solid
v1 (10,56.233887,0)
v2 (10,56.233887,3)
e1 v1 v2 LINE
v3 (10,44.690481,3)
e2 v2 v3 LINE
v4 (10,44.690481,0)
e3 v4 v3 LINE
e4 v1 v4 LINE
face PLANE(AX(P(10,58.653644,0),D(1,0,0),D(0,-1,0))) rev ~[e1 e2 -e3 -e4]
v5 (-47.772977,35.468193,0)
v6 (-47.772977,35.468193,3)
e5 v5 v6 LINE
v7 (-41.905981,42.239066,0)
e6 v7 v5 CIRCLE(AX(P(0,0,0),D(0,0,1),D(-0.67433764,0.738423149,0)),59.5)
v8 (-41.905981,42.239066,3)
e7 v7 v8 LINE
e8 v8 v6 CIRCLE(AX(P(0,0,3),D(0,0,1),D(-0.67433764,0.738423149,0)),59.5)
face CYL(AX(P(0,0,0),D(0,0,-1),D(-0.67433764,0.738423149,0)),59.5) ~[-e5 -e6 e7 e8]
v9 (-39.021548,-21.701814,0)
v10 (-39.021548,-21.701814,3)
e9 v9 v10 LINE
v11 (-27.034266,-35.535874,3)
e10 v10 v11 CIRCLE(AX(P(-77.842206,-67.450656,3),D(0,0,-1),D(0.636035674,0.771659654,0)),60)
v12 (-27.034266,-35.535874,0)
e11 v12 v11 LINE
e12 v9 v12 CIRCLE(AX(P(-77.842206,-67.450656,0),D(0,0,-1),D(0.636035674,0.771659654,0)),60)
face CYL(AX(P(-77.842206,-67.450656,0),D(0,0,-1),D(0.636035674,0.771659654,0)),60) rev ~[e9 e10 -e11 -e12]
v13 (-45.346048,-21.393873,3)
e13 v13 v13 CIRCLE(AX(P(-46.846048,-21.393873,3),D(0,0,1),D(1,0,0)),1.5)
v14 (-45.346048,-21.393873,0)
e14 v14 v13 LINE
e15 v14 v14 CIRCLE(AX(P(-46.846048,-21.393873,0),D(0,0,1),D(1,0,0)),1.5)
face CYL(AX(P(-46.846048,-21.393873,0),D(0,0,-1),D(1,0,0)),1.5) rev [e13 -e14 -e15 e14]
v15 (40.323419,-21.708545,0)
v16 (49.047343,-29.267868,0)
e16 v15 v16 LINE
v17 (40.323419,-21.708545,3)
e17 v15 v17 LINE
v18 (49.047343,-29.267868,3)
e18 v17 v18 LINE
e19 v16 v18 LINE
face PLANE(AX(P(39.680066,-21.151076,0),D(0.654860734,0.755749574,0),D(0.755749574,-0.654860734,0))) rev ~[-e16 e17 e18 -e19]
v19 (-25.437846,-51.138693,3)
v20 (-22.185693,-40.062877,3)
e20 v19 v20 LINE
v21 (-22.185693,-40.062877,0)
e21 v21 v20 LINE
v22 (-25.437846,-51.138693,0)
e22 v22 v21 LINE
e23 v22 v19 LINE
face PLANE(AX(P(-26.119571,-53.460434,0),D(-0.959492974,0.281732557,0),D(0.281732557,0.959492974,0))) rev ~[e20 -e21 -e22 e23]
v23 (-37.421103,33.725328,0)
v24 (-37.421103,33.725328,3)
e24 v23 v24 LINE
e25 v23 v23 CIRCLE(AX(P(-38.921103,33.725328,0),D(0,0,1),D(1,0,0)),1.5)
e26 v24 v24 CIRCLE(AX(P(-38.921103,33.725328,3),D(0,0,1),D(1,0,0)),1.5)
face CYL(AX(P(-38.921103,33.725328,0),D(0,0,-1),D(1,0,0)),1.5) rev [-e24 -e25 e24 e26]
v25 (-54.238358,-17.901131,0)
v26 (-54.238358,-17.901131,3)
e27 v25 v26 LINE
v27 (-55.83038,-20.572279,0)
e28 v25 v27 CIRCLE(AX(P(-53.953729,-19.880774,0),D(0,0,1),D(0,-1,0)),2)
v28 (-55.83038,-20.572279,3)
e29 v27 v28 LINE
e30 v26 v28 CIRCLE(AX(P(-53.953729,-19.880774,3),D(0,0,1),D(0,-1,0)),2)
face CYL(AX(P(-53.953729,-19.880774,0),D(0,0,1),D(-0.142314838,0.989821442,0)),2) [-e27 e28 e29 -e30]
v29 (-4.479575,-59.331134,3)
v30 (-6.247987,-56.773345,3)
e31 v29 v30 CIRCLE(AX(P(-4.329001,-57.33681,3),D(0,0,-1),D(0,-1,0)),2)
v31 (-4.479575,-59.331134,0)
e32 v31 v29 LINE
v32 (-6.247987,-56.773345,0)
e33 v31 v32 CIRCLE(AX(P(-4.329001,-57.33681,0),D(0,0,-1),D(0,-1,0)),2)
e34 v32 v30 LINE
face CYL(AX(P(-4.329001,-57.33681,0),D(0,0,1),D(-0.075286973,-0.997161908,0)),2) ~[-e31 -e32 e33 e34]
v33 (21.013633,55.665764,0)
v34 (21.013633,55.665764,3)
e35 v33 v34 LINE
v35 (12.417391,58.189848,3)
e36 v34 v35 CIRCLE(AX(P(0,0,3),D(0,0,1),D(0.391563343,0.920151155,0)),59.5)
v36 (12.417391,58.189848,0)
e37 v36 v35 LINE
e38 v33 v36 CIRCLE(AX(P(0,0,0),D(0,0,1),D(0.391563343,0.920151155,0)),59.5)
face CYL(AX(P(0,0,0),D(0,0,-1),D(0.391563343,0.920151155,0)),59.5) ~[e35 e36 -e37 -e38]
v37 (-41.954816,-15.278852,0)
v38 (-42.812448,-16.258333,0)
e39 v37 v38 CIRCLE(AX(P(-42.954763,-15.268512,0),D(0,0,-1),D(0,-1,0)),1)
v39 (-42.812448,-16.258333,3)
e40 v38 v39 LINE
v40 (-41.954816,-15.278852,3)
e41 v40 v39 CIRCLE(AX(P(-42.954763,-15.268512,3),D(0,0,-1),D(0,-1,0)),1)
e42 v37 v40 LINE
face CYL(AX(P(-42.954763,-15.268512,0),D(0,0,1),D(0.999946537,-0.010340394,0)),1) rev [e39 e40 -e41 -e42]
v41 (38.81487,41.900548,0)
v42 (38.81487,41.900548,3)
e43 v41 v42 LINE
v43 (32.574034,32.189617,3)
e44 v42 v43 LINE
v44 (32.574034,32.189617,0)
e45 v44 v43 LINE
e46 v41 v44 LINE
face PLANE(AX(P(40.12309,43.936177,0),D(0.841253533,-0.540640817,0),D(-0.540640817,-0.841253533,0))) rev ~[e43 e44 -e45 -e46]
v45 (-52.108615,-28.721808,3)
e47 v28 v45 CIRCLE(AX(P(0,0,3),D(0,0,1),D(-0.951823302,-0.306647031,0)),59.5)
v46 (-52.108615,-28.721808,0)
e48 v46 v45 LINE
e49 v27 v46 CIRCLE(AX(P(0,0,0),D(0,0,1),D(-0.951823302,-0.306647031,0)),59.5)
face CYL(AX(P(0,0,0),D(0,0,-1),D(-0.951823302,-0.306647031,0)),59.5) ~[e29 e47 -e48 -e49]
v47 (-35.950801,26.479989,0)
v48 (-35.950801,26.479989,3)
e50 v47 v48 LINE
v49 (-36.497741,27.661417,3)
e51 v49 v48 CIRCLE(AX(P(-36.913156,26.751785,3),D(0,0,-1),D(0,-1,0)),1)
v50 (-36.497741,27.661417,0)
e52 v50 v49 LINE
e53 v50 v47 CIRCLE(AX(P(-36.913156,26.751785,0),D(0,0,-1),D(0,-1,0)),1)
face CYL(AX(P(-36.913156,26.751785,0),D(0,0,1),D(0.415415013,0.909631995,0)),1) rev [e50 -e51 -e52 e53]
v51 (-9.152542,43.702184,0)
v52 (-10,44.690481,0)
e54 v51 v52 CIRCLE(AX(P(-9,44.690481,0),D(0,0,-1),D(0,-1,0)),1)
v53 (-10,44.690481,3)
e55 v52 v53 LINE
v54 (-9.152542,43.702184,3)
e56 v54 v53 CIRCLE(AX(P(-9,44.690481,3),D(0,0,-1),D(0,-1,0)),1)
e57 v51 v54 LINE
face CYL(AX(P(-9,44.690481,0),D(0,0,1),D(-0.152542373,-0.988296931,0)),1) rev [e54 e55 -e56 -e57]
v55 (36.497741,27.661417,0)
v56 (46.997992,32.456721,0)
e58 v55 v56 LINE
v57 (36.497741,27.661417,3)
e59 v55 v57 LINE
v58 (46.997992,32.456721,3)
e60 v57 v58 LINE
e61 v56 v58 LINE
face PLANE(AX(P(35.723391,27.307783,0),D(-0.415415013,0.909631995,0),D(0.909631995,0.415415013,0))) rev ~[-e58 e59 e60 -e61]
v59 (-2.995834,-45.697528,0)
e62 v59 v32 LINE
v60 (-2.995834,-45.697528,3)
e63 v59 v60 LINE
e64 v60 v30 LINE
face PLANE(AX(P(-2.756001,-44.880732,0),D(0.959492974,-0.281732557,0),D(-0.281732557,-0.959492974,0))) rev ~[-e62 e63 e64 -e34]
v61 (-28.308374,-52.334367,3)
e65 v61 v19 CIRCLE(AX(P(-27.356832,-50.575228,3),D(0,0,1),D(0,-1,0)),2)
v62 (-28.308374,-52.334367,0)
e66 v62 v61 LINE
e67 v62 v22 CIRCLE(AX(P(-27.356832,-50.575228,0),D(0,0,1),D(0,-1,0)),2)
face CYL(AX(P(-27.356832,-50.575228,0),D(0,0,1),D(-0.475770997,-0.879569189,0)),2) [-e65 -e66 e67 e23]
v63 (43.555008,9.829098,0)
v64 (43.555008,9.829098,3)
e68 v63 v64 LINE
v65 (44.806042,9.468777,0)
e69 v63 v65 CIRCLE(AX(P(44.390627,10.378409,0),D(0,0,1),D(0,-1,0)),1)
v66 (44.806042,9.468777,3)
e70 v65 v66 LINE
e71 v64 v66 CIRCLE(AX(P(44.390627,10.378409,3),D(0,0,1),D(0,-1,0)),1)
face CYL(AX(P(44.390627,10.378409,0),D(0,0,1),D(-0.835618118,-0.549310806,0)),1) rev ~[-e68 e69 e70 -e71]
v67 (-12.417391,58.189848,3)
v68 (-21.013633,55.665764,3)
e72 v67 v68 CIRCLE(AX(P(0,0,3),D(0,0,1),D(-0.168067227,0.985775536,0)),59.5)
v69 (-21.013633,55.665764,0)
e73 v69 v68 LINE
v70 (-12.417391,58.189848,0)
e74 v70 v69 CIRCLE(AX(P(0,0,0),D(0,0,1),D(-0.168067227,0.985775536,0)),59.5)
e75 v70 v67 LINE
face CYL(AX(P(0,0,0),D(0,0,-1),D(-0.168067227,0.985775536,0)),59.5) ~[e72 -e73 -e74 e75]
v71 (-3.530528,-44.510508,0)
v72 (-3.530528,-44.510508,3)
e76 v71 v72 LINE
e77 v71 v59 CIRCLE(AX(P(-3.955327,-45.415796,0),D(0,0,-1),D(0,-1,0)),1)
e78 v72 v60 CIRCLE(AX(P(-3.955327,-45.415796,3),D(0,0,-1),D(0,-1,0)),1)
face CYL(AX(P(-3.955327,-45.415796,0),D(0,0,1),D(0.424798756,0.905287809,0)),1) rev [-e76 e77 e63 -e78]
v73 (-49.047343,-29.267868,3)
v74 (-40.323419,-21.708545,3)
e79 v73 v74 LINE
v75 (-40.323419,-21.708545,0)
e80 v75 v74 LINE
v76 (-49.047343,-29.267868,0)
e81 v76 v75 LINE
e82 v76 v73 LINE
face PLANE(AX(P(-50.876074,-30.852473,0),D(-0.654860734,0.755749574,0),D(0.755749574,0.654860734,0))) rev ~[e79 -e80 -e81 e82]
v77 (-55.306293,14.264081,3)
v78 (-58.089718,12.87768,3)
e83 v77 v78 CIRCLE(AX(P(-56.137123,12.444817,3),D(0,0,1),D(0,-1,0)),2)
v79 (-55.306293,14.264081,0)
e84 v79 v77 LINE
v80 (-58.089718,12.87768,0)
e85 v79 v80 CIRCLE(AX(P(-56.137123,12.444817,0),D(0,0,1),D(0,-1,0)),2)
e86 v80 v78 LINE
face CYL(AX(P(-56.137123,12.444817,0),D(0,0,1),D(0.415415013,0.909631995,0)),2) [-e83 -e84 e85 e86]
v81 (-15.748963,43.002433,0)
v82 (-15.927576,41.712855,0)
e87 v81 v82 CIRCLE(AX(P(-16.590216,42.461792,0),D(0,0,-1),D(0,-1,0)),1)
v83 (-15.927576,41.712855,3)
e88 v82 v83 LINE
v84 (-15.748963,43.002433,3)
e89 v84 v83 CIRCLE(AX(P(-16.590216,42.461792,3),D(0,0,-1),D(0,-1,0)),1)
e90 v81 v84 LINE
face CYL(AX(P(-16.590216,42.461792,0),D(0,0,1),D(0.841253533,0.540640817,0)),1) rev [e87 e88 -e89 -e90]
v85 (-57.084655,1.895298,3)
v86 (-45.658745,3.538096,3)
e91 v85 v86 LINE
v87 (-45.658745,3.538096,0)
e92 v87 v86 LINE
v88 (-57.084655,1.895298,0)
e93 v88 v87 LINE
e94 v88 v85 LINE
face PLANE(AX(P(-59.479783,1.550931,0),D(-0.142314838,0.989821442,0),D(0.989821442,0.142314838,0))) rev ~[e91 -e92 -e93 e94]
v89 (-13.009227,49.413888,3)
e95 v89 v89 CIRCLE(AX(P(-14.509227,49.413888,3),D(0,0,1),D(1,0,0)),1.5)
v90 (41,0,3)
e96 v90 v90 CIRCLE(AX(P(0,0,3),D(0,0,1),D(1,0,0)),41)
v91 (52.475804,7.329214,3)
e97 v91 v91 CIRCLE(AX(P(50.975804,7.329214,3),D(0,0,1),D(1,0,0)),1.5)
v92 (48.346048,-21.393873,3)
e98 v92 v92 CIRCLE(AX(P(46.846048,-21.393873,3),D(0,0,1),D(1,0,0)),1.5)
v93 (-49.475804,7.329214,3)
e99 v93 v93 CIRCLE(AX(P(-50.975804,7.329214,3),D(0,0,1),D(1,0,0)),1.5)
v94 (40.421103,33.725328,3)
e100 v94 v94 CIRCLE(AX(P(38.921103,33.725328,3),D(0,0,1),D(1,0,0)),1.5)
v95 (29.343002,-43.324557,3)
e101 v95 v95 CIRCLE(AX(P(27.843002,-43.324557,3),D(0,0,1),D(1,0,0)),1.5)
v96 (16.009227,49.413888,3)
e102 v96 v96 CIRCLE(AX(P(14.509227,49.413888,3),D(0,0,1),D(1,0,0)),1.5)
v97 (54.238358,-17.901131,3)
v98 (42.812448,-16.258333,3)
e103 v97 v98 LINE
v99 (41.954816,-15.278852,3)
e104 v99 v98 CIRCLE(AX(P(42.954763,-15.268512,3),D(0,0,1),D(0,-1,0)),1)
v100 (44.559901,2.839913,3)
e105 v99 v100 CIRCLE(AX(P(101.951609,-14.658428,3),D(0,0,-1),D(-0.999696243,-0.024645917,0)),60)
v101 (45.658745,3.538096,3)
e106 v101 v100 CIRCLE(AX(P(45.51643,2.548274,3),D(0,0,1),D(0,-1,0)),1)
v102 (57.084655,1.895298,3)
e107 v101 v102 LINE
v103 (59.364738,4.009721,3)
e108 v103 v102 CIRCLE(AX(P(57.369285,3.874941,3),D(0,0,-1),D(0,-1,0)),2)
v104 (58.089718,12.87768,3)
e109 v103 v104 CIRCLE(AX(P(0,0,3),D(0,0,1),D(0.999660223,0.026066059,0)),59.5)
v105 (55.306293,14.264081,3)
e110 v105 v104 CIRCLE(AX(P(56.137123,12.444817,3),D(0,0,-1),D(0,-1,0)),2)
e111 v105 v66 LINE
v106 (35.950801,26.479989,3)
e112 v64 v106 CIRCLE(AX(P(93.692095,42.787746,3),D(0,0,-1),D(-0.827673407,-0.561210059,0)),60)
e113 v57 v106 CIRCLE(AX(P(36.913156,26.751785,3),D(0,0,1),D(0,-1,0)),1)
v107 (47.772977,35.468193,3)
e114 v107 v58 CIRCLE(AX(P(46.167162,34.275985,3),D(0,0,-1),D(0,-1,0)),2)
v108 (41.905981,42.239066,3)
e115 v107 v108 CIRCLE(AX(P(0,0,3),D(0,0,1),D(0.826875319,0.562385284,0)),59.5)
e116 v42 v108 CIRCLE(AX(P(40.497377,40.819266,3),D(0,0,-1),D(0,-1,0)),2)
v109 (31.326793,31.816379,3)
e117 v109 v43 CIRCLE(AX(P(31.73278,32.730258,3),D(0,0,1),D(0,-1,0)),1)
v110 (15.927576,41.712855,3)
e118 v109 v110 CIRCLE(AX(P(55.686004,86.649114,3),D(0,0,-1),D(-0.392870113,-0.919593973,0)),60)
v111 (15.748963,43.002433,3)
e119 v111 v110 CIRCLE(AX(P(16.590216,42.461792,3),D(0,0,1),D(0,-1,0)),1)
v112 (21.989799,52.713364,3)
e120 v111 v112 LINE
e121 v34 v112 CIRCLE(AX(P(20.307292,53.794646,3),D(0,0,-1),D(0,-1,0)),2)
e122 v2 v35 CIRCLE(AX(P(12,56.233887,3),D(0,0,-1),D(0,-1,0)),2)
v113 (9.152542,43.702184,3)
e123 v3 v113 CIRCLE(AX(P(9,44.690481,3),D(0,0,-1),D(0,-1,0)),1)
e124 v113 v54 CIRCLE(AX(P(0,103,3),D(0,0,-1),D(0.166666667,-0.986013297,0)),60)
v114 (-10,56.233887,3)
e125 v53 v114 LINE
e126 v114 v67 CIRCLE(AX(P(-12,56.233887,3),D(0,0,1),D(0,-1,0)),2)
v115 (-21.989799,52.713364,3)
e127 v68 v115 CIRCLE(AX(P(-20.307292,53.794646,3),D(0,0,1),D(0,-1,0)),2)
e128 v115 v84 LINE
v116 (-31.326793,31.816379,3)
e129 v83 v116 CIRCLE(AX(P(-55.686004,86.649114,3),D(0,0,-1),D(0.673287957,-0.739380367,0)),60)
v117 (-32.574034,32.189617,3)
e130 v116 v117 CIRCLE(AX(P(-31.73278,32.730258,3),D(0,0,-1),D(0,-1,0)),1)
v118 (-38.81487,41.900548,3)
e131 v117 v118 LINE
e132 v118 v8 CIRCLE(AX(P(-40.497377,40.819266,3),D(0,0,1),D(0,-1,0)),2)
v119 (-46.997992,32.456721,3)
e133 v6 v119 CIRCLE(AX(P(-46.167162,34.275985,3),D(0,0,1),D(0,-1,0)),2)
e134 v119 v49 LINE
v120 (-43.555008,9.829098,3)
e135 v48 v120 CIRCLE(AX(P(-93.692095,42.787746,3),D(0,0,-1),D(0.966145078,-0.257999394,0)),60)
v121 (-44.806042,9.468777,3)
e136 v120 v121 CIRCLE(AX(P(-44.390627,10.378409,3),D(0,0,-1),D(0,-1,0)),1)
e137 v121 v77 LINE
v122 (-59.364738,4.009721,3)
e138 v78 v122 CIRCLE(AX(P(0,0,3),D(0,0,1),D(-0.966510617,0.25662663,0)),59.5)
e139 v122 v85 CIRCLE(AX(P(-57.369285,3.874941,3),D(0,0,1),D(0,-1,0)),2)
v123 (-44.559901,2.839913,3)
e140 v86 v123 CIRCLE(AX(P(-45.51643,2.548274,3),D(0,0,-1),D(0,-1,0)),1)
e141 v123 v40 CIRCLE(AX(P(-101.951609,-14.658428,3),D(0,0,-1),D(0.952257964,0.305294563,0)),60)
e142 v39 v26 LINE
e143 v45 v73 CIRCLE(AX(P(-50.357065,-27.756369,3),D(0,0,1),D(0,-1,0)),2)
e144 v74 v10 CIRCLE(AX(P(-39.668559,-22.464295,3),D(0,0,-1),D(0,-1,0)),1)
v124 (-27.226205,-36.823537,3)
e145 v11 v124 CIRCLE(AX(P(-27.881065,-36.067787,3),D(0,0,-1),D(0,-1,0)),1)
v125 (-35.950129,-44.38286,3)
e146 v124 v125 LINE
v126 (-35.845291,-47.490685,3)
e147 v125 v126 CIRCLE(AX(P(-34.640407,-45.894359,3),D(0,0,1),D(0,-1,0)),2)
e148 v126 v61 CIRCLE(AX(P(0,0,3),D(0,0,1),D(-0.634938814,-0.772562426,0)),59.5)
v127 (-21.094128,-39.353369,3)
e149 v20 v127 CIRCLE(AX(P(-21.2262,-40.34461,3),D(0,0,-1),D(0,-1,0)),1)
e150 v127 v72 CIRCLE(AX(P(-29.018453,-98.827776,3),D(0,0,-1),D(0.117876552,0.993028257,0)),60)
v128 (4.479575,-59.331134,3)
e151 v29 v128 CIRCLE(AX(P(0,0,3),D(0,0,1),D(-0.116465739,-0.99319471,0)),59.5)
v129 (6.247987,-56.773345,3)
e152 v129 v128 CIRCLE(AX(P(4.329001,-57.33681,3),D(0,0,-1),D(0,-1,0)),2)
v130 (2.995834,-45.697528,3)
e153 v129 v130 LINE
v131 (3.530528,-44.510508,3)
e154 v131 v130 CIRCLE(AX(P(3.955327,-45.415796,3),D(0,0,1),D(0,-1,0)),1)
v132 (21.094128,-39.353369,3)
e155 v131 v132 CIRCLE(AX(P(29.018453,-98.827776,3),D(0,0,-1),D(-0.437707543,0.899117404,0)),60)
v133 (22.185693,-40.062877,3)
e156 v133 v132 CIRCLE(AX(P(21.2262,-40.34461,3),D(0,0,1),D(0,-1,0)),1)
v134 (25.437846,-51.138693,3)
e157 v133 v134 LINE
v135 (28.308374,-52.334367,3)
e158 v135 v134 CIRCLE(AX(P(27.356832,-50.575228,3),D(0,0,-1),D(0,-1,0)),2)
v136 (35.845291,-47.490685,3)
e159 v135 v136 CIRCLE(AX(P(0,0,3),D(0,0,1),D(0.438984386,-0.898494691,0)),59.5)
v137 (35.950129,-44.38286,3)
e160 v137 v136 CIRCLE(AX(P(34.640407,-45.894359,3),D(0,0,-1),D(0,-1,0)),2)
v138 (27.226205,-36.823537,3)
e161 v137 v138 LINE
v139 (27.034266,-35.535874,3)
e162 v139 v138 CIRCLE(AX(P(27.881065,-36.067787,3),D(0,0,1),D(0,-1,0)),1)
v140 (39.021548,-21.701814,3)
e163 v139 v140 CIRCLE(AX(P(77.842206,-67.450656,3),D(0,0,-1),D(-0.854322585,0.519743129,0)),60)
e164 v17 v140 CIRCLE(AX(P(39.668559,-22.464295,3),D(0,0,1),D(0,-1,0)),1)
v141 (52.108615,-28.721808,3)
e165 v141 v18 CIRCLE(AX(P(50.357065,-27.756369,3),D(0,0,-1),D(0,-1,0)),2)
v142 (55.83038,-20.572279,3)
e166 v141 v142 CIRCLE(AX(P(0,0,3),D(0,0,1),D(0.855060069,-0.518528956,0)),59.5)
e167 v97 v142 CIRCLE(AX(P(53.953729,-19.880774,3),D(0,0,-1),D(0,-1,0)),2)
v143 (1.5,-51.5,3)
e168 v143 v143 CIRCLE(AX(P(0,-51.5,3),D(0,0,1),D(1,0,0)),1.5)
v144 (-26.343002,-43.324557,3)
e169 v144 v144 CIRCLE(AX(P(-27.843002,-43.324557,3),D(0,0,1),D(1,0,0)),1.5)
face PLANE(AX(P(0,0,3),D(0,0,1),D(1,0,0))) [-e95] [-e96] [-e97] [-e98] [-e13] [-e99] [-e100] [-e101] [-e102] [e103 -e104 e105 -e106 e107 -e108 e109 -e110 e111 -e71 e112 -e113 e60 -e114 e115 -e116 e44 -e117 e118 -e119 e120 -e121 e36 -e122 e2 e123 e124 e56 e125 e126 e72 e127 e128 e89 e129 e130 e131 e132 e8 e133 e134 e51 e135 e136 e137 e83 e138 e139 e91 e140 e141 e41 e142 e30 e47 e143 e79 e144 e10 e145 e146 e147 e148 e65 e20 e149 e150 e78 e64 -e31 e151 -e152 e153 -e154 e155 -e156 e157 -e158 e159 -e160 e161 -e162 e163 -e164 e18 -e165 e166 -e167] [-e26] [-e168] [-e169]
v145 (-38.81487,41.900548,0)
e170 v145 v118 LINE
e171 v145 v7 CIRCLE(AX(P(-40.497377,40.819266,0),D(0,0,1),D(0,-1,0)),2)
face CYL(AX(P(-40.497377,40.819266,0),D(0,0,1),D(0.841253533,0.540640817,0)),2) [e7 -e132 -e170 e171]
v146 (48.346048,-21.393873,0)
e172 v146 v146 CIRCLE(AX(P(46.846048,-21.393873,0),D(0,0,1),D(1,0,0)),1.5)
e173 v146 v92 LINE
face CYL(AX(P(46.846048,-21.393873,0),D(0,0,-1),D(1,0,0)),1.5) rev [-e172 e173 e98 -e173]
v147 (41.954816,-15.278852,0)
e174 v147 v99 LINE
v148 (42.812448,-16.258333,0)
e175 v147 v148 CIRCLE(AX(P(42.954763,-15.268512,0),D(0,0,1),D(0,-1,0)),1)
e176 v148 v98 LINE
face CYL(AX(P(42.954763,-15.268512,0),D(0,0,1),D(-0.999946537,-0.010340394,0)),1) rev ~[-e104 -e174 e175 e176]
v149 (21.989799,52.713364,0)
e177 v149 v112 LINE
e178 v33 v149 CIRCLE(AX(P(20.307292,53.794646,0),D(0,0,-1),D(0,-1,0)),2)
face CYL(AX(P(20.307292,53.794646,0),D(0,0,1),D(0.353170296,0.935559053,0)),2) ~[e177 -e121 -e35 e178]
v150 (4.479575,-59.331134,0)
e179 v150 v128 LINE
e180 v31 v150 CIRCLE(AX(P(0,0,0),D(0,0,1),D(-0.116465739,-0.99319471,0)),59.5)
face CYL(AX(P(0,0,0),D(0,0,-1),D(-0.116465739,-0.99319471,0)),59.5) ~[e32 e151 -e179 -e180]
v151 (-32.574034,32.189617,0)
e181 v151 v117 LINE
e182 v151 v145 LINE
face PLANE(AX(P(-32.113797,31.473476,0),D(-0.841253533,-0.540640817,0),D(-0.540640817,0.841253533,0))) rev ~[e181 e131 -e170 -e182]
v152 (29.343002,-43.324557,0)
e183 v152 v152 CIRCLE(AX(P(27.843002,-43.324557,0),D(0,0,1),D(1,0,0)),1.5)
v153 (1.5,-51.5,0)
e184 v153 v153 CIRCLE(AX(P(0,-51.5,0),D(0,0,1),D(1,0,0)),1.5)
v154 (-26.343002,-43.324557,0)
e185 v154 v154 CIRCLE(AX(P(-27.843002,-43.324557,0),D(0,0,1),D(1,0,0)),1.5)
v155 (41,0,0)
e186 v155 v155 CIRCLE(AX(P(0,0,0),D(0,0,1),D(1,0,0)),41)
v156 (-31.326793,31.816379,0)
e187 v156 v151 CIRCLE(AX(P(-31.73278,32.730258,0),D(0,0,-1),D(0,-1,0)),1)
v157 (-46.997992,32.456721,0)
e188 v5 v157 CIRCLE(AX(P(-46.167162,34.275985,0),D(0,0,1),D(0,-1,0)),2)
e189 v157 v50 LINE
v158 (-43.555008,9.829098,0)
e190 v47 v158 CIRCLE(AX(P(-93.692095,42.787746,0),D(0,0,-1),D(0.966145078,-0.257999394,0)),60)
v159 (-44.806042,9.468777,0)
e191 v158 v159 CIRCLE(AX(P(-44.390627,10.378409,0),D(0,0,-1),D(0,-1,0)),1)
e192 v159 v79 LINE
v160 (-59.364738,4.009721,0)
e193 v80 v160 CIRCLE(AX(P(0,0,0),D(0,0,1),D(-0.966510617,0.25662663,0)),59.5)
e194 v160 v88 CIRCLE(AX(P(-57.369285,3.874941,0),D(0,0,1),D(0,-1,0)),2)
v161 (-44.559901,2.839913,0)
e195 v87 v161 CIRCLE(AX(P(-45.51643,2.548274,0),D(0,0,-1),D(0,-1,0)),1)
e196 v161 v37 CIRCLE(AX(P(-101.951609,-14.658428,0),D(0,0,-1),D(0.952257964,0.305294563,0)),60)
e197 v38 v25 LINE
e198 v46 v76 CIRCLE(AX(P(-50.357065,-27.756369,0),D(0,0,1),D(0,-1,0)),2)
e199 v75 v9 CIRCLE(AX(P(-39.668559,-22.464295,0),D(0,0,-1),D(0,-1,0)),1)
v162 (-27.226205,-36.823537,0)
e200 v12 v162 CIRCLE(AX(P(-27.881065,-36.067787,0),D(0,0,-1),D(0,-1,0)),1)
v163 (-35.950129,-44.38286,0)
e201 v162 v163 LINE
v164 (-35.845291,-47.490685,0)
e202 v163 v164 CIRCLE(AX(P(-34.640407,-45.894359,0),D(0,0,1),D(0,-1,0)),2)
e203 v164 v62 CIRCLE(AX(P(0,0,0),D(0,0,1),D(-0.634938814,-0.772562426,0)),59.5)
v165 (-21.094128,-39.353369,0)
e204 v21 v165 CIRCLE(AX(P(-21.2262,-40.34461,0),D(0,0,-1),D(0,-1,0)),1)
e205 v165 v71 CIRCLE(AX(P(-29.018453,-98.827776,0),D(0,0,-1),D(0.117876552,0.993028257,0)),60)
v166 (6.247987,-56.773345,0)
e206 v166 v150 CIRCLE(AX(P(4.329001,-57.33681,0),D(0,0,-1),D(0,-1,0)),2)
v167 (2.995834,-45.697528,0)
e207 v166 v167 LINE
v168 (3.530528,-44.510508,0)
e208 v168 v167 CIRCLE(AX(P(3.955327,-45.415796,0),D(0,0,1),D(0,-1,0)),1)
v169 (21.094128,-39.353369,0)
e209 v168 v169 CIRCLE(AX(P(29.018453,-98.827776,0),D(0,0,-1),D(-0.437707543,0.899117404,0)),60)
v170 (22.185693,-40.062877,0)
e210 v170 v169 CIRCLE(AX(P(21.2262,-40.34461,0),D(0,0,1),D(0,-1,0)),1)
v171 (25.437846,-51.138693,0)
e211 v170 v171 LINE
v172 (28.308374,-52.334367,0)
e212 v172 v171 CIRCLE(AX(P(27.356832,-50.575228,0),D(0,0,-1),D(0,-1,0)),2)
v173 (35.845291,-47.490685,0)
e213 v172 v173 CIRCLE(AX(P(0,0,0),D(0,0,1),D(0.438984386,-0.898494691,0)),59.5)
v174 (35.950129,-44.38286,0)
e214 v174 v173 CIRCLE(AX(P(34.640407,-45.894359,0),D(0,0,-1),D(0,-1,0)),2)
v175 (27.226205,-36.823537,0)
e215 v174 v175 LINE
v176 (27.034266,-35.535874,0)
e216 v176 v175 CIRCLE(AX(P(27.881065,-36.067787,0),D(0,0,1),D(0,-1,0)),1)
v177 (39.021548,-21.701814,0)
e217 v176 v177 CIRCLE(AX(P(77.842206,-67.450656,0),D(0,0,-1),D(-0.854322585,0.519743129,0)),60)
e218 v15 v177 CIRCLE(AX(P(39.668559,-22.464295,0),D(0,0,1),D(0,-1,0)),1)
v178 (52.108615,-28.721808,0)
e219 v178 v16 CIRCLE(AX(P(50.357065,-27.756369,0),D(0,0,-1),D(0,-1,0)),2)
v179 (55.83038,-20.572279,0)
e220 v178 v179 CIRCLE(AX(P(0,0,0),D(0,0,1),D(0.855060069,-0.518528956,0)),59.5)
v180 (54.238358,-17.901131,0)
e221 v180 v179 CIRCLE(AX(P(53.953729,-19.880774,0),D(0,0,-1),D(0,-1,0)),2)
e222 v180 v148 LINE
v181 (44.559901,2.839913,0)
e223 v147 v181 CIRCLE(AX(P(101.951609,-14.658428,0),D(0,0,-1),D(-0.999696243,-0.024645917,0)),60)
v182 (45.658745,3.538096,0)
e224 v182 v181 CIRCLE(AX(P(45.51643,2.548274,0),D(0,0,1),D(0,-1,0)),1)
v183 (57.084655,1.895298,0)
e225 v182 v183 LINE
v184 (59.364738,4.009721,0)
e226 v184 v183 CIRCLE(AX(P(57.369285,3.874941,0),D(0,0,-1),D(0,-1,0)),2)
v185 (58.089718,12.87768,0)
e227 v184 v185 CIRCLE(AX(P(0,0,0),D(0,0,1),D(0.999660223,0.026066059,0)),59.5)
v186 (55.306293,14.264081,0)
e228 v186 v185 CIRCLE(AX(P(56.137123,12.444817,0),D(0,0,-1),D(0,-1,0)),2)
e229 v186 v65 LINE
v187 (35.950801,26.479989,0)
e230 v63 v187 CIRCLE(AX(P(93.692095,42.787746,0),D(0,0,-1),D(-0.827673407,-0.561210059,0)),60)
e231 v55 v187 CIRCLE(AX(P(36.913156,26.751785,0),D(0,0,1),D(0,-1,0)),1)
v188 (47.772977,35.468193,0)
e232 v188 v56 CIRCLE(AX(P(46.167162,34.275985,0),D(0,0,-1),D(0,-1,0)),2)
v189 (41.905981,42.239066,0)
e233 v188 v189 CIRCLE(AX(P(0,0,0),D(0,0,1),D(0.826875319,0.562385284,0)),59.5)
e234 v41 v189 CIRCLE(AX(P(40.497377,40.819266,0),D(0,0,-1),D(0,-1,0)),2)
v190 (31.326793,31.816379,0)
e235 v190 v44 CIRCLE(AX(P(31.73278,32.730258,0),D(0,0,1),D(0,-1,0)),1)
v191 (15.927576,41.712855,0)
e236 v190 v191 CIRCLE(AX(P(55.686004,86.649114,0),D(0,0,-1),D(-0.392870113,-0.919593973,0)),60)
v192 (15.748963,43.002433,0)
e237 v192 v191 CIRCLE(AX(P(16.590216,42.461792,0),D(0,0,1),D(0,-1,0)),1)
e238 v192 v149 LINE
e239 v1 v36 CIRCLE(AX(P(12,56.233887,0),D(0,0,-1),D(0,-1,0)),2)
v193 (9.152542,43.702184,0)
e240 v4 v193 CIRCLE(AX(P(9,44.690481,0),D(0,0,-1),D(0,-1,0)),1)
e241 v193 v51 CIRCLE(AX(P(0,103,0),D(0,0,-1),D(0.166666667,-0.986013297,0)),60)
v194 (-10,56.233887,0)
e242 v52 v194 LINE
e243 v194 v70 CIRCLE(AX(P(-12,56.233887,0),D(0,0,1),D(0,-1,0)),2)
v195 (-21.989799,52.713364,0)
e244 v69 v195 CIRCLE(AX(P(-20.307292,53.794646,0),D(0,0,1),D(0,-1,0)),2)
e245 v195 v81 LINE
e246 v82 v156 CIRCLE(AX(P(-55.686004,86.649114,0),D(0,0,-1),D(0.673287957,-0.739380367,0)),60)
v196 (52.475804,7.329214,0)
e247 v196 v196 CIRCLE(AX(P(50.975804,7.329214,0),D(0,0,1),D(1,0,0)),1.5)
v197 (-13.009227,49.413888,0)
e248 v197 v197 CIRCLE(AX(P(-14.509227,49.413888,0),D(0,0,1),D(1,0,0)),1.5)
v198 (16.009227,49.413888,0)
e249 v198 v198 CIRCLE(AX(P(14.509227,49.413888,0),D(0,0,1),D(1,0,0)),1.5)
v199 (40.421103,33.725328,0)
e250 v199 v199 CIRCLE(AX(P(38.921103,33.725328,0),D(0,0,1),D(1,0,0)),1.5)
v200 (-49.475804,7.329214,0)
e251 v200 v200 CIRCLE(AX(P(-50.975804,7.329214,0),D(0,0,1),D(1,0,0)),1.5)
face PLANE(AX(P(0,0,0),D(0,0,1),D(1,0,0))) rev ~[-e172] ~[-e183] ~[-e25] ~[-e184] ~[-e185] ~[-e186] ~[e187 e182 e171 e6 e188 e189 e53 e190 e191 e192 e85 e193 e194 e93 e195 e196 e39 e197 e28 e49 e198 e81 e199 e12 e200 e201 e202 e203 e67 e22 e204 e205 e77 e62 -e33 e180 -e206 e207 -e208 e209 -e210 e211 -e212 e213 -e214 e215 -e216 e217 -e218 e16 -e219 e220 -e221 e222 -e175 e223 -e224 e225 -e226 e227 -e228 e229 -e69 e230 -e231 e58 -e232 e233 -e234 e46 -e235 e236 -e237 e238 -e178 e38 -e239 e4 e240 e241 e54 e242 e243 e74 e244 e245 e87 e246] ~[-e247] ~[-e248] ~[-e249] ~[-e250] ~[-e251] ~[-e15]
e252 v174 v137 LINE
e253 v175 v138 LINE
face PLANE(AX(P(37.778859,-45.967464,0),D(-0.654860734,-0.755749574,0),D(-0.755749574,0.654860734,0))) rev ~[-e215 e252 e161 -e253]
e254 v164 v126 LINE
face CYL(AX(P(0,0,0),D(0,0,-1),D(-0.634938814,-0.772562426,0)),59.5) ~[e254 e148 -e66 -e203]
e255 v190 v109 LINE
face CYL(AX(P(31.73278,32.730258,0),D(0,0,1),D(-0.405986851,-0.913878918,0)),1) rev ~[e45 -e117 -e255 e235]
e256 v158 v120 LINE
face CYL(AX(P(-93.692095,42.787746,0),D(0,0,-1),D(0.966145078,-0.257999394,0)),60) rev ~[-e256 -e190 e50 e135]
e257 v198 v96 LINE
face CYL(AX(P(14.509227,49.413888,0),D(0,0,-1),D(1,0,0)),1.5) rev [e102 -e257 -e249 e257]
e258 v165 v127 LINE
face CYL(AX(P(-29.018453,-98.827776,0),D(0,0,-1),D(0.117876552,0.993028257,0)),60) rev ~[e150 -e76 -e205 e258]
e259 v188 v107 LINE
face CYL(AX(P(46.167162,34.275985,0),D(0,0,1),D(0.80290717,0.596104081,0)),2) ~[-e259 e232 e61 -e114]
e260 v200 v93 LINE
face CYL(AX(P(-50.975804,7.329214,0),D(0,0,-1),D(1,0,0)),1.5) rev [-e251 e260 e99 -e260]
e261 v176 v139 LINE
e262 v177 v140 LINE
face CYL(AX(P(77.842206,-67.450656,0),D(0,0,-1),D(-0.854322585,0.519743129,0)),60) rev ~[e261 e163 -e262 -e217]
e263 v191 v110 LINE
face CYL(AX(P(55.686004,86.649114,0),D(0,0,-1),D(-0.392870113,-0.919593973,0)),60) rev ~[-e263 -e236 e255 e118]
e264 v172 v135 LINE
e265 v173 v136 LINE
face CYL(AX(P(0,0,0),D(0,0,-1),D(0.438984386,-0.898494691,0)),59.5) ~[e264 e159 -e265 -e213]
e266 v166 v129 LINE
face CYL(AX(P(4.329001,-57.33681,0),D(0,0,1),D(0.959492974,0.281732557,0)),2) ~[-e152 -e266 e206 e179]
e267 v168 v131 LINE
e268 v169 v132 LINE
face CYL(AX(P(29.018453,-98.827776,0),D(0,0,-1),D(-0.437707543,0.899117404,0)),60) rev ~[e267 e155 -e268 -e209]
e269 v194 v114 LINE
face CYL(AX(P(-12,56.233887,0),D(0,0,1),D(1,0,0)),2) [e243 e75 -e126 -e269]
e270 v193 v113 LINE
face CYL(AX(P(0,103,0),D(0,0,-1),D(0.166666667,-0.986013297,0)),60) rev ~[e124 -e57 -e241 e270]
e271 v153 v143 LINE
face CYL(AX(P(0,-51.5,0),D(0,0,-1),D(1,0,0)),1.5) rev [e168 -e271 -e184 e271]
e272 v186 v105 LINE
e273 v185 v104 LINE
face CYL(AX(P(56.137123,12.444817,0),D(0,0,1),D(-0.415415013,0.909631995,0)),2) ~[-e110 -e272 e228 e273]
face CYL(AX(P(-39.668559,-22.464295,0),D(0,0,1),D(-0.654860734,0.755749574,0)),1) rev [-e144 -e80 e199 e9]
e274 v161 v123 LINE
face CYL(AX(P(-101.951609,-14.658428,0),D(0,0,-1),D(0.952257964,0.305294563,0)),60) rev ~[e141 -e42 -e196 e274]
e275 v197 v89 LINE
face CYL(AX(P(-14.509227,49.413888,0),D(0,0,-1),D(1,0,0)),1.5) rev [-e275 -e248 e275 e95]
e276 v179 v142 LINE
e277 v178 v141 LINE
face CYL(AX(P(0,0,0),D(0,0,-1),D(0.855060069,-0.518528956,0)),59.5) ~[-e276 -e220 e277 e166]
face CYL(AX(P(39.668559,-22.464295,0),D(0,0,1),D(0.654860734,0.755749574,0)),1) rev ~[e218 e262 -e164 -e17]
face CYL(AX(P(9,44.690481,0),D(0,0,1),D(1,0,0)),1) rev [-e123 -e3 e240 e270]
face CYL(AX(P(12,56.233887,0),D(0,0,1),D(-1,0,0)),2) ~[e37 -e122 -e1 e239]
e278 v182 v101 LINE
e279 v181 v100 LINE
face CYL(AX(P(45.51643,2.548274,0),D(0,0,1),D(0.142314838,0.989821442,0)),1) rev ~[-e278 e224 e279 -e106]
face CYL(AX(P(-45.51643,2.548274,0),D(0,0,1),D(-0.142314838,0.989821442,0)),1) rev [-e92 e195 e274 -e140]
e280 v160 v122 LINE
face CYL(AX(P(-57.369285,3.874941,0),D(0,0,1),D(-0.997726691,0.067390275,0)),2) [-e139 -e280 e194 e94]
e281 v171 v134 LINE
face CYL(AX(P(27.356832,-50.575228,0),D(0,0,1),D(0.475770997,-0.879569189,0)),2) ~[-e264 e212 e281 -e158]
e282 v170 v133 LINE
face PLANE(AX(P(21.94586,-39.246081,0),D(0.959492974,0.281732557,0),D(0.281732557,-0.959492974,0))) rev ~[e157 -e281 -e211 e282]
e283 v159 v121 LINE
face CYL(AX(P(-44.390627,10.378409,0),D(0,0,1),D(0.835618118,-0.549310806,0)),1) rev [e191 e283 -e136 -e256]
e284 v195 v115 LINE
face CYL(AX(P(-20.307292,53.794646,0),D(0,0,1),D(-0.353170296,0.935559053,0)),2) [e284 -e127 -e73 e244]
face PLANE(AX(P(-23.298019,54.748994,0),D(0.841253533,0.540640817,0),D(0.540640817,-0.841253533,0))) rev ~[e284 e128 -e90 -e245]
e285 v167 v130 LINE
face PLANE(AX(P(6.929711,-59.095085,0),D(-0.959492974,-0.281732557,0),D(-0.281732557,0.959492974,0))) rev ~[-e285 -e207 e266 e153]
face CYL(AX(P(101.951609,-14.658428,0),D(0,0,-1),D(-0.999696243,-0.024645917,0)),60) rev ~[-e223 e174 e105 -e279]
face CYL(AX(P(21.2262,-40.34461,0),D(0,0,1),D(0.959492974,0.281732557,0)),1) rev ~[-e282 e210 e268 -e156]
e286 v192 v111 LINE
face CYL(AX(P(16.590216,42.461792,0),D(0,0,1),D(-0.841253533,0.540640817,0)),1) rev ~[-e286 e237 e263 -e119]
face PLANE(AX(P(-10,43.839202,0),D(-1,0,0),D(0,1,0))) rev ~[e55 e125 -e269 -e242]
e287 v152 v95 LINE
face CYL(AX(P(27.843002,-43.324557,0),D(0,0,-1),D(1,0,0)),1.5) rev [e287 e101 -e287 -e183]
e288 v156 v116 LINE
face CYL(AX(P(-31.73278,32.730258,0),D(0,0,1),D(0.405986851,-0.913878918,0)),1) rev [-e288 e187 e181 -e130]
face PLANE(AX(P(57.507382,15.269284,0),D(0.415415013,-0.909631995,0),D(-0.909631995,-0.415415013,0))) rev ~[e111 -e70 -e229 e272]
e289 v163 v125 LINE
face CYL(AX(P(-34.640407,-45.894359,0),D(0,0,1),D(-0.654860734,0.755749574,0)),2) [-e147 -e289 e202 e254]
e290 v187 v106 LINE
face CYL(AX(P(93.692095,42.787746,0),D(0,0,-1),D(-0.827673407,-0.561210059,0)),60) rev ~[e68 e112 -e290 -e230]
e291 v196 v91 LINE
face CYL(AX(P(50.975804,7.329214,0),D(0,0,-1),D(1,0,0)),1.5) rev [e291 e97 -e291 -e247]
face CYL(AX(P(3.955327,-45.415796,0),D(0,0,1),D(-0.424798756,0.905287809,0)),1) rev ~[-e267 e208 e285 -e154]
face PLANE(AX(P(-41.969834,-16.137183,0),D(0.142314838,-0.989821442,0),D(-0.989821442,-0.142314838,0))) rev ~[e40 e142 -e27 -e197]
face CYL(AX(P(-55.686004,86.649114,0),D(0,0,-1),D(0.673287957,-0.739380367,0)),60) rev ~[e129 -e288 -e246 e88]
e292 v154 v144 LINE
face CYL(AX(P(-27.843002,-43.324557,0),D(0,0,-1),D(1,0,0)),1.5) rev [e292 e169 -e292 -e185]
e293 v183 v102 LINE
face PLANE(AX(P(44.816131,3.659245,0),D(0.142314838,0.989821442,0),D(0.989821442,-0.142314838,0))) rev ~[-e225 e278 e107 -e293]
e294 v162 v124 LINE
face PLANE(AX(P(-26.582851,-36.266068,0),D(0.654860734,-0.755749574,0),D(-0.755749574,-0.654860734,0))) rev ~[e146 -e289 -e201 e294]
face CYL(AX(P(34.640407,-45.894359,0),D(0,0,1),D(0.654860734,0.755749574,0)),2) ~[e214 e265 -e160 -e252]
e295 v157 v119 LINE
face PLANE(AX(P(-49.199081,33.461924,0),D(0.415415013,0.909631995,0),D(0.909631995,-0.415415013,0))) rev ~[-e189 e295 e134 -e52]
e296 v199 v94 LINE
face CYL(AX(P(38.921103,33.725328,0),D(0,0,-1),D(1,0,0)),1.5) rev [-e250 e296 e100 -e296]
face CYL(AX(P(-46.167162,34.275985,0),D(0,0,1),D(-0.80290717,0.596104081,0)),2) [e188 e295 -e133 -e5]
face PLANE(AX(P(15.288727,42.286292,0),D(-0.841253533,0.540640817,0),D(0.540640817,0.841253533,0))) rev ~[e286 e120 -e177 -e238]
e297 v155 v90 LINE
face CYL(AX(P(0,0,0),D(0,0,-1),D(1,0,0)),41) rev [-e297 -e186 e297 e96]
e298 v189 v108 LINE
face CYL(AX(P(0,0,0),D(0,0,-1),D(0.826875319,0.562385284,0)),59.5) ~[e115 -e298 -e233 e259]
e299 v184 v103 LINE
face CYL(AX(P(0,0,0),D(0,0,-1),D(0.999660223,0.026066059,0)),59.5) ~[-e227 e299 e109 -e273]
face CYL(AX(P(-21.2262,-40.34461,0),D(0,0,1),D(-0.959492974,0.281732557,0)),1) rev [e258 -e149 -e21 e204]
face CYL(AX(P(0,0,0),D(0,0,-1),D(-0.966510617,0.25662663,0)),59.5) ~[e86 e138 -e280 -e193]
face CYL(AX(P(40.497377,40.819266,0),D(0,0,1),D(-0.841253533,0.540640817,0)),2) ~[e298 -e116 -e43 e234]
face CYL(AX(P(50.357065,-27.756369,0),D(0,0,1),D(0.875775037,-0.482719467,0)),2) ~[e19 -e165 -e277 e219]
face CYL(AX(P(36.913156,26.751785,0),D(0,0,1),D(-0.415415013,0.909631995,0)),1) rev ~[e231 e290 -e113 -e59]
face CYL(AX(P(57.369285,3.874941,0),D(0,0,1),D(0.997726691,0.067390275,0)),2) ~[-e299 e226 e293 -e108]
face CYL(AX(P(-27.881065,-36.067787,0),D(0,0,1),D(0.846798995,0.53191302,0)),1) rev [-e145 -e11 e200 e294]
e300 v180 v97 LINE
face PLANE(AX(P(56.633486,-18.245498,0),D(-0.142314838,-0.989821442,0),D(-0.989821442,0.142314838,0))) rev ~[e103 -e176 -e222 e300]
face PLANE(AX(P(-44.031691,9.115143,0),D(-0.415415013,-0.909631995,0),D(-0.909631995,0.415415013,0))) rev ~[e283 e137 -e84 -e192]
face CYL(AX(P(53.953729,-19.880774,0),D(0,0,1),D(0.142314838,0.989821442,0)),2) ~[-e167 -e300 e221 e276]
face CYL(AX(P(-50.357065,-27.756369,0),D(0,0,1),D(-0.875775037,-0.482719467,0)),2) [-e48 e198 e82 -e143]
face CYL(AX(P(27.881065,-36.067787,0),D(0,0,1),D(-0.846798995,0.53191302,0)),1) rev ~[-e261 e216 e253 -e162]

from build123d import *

# Parameters (mm, degrees)
SKETCH_2_R      = 41
SKETCH_2_R_2    = 1.5
EXTRUDE_1_DEPTH = 3
FILLET_1_R      = 1
FILLET_2_R      = 2


with BuildPart() as part:
    # 草图2 → 凸台-拉伸1 (new body)
    with BuildSketch(Plane.XY):
        with BuildLine():
            Line((10, 58.653644388), (10, 43.839202169))
            ThreePointArc((10, 43.839202169), (0, 43), (-10, 43.839202169))
            Line((-10, 43.839202169), (-10, 58.653644388))
            ThreePointArc((-10, 58.653644388), (-16.763087132, 57.08983193), (-23.29801892, 54.748993729))
            Line((-23.29801892, 54.748993729), (-15.288726769, 42.286291876))
            ThreePointArc((-15.288726769, 42.286291876), (-23.247555151, 36.173901912), (-32.113797426, 31.473475527))
            Line((-32.113797426, 31.473475527), (-40.123089577, 43.93617738))
            ThreePointArc((-40.123089577, 43.93617738), (-44.967099674, 38.96421367), (-49.199081449, 33.4619244))
            Line((-49.199081449, 33.4619244), (-35.723390814, 27.307782693))
            ThreePointArc((-35.723390814, 27.307782693), (-39.1141758, 17.862845559), (-44.031691074, 9.115142785))
            Line((-44.031691074, 9.115142785), (-57.50738171, 15.269284493))
            ThreePointArc((-57.50738171, 15.269284493), (-58.894375792, 8.467732877), (-59.479783242, 1.550930504))
            Line((-59.479783242, 1.550930504), (-44.816130685, 3.659245452))
            ThreePointArc((-44.816130685, 3.659245452), (-42.562322001, -6.119538046), (-41.969833919, -16.137183386))
            Line((-41.969833919, -16.137183386), (-56.633486477, -18.245498334))
            ThreePointArc((-56.633486477, -18.245498334), (-54.123103724, -24.717193274), (-50.87607412, -30.852472869))
            Line((-50.87607412, -30.852472869), (-39.680065719, -21.151076364))
            ThreePointArc((-39.680065719, -21.151076364), (-32.497231697, -28.15901156), (-26.58285104, -36.266067852))
            Line((-26.58285104, -36.266067852), (-37.778859441, -45.967464356))
            ThreePointArc((-37.778859441, -45.967464356), (-32.168128639, -50.054585203), (-26.119570938, -53.460434099))
            Line((-26.119570938, -53.460434099), (-21.945860253, -39.246080882))
            ThreePointArc((-21.945860253, -39.246080882), (-12.114499944, -41.258197865), (-2.756000781, -44.880732018))
            Line((-2.756000781, -44.880732018), (-6.929711465, -59.095085236))
            ThreePointArc((-6.929711465, -59.095085236), (0, -59.5), (6.929711465, -59.095085236))
            Line((6.929711465, -59.095085236), (2.756000781, -44.880732018))
            ThreePointArc((2.756000781, -44.880732018), (12.114499944, -41.258197865), (21.945860253, -39.246080882))
            Line((21.945860253, -39.246080882), (26.119570938, -53.460434099))
            ThreePointArc((26.119570938, -53.460434099), (32.168128639, -50.054585203), (37.778859441, -45.967464356))
            Line((37.778859441, -45.967464356), (26.58285104, -36.266067852))
            ThreePointArc((26.58285104, -36.266067852), (32.497231697, -28.15901156), (39.680065719, -21.151076364))
            Line((39.680065719, -21.151076364), (50.87607412, -30.852472869))
            ThreePointArc((50.87607412, -30.852472869), (54.123103724, -24.717193274), (56.633486477, -18.245498334))
            Line((56.633486477, -18.245498334), (41.969833919, -16.137183386))
            ThreePointArc((41.969833919, -16.137183386), (42.562322001, -6.119538046), (44.816130685, 3.659245452))
            Line((44.816130685, 3.659245452), (59.479783242, 1.550930504))
            ThreePointArc((59.479783242, 1.550930504), (58.894375792, 8.467732877), (57.50738171, 15.269284493))
            Line((57.50738171, 15.269284493), (44.031691074, 9.115142785))
            ThreePointArc((44.031691074, 9.115142785), (39.1141758, 17.862845559), (35.723390814, 27.307782693))
            Line((35.723390814, 27.307782693), (49.199081449, 33.4619244))
            ThreePointArc((49.199081449, 33.4619244), (44.967099674, 38.96421367), (40.123089577, 43.93617738))
            Line((40.123089577, 43.93617738), (32.113797426, 31.473475527))
            ThreePointArc((32.113797426, 31.473475527), (23.247555151, 36.173901912), (15.288726769, 42.286291876))
            Line((15.288726769, 42.286291876), (23.29801892, 54.748993729))
            ThreePointArc((23.29801892, 54.748993729), (16.763087132, 57.08983193), (10, 58.653644388))
        make_face()
        Circle(SKETCH_2_R, mode=Mode.SUBTRACT)
        with Locations((0, -51.5)):
            Circle(SKETCH_2_R_2, mode=Mode.SUBTRACT)
        with Locations((-27.843002099, -43.324556941)):
            Circle(SKETCH_2_R_2, mode=Mode.SUBTRACT)
        with Locations((-46.846047761, -21.39387317)):
            Circle(SKETCH_2_R_2, mode=Mode.SUBTRACT)
        with Locations((-50.975804257, 7.329214171)):
            Circle(SKETCH_2_R_2, mode=Mode.SUBTRACT)
        with Locations((-38.921103079, 33.725327798)):
            Circle(SKETCH_2_R_2, mode=Mode.SUBTRACT)
        with Locations((-14.509226677, 49.413888141)):
            Circle(SKETCH_2_R_2, mode=Mode.SUBTRACT)
        with Locations((14.509226677, 49.413888141)):
            Circle(SKETCH_2_R_2, mode=Mode.SUBTRACT)
        with Locations((38.921103079, 33.725327798)):
            Circle(SKETCH_2_R_2, mode=Mode.SUBTRACT)
        with Locations((50.975804257, 7.329214171)):
            Circle(SKETCH_2_R_2, mode=Mode.SUBTRACT)
        with Locations((46.846047761, -21.39387317)):
            Circle(SKETCH_2_R_2, mode=Mode.SUBTRACT)
        with Locations((27.843002099, -43.324556941)):
            Circle(SKETCH_2_R_2, mode=Mode.SUBTRACT)
    extrude(amount=EXTRUDE_1_DEPTH)

    # 圆角1
    fillet_1_edges = [part.edges().sort_by_distance(p)[0] for p in [
        (15.288726769, 42.286291876, 1.5),
        (32.113797426, 31.473475527, 1.5),
        (35.723390814, 27.307782693, 1.5),
        (44.031691074, 9.115142785, 1.5),
        (44.816130685, 3.659245452, 1.5),
        (41.969833919, -16.137183386, 1.5),
        (39.680065719, -21.151076364, 1.5),
        (26.58285104, -36.266067852, 1.5),
        (21.945860253, -39.246080882, 1.5),
        (2.756000781, -44.880732018, 1.5),
        (-2.756000781, -44.880732018, 1.5),
        (-21.945860253, -39.246080882, 1.5),
        (-26.58285104, -36.266067852, 1.5),
        (-39.680065719, -21.151076364, 1.5),
        (-41.969833919, -16.137183386, 1.5),
        (-44.816130685, 3.659245452, 1.5),
        (-44.031691074, 9.115142785, 1.5),
        (-35.723390814, 27.307782693, 1.5),
        (-32.113797426, 31.473475527, 1.5),
        (-15.288726769, 42.286291876, 1.5),
        (-10, 43.839202169, 1.5),
        (10, 43.839202169, 1.5),
    ]]
    fillet(fillet_1_edges, radius=FILLET_1_R)

    # 圆角2
    fillet_2_edges = [part.edges().sort_by_distance(p)[0] for p in [
        (23.29801892, 54.748993729, 1.5),
        (40.123089577, 43.93617738, 1.5),
        (49.199081449, 33.4619244, 1.5),
        (57.50738171, 15.269284493, 1.5),
        (59.479783242, 1.550930504, 1.5),
        (56.633486477, -18.245498334, 1.5),
        (50.87607412, -30.852472869, 1.5),
        (37.778859441, -45.967464356, 1.5),
        (26.119570938, -53.460434099, 1.5),
        (6.929711465, -59.095085236, 1.5),
        (-6.929711465, -59.095085236, 1.5),
        (-26.119570938, -53.460434099, 1.5),
        (-37.778859441, -45.967464356, 1.5),
        (-50.87607412, -30.852472869, 1.5),
        (-56.633486477, -18.245498334, 1.5),
        (-59.479783242, 1.550930504, 1.5),
        (-57.50738171, 15.269284493, 1.5),
        (-49.199081449, 33.4619244, 1.5),
        (-40.123089577, 43.93617738, 1.5),
        (-23.29801892, 54.748993729, 1.5),
        (-10, 58.653644388, 1.5),
        (10, 58.653644388, 1.5),
    ]]
    fillet(fillet_2_edges, radius=FILLET_2_R)


solid = part.part
